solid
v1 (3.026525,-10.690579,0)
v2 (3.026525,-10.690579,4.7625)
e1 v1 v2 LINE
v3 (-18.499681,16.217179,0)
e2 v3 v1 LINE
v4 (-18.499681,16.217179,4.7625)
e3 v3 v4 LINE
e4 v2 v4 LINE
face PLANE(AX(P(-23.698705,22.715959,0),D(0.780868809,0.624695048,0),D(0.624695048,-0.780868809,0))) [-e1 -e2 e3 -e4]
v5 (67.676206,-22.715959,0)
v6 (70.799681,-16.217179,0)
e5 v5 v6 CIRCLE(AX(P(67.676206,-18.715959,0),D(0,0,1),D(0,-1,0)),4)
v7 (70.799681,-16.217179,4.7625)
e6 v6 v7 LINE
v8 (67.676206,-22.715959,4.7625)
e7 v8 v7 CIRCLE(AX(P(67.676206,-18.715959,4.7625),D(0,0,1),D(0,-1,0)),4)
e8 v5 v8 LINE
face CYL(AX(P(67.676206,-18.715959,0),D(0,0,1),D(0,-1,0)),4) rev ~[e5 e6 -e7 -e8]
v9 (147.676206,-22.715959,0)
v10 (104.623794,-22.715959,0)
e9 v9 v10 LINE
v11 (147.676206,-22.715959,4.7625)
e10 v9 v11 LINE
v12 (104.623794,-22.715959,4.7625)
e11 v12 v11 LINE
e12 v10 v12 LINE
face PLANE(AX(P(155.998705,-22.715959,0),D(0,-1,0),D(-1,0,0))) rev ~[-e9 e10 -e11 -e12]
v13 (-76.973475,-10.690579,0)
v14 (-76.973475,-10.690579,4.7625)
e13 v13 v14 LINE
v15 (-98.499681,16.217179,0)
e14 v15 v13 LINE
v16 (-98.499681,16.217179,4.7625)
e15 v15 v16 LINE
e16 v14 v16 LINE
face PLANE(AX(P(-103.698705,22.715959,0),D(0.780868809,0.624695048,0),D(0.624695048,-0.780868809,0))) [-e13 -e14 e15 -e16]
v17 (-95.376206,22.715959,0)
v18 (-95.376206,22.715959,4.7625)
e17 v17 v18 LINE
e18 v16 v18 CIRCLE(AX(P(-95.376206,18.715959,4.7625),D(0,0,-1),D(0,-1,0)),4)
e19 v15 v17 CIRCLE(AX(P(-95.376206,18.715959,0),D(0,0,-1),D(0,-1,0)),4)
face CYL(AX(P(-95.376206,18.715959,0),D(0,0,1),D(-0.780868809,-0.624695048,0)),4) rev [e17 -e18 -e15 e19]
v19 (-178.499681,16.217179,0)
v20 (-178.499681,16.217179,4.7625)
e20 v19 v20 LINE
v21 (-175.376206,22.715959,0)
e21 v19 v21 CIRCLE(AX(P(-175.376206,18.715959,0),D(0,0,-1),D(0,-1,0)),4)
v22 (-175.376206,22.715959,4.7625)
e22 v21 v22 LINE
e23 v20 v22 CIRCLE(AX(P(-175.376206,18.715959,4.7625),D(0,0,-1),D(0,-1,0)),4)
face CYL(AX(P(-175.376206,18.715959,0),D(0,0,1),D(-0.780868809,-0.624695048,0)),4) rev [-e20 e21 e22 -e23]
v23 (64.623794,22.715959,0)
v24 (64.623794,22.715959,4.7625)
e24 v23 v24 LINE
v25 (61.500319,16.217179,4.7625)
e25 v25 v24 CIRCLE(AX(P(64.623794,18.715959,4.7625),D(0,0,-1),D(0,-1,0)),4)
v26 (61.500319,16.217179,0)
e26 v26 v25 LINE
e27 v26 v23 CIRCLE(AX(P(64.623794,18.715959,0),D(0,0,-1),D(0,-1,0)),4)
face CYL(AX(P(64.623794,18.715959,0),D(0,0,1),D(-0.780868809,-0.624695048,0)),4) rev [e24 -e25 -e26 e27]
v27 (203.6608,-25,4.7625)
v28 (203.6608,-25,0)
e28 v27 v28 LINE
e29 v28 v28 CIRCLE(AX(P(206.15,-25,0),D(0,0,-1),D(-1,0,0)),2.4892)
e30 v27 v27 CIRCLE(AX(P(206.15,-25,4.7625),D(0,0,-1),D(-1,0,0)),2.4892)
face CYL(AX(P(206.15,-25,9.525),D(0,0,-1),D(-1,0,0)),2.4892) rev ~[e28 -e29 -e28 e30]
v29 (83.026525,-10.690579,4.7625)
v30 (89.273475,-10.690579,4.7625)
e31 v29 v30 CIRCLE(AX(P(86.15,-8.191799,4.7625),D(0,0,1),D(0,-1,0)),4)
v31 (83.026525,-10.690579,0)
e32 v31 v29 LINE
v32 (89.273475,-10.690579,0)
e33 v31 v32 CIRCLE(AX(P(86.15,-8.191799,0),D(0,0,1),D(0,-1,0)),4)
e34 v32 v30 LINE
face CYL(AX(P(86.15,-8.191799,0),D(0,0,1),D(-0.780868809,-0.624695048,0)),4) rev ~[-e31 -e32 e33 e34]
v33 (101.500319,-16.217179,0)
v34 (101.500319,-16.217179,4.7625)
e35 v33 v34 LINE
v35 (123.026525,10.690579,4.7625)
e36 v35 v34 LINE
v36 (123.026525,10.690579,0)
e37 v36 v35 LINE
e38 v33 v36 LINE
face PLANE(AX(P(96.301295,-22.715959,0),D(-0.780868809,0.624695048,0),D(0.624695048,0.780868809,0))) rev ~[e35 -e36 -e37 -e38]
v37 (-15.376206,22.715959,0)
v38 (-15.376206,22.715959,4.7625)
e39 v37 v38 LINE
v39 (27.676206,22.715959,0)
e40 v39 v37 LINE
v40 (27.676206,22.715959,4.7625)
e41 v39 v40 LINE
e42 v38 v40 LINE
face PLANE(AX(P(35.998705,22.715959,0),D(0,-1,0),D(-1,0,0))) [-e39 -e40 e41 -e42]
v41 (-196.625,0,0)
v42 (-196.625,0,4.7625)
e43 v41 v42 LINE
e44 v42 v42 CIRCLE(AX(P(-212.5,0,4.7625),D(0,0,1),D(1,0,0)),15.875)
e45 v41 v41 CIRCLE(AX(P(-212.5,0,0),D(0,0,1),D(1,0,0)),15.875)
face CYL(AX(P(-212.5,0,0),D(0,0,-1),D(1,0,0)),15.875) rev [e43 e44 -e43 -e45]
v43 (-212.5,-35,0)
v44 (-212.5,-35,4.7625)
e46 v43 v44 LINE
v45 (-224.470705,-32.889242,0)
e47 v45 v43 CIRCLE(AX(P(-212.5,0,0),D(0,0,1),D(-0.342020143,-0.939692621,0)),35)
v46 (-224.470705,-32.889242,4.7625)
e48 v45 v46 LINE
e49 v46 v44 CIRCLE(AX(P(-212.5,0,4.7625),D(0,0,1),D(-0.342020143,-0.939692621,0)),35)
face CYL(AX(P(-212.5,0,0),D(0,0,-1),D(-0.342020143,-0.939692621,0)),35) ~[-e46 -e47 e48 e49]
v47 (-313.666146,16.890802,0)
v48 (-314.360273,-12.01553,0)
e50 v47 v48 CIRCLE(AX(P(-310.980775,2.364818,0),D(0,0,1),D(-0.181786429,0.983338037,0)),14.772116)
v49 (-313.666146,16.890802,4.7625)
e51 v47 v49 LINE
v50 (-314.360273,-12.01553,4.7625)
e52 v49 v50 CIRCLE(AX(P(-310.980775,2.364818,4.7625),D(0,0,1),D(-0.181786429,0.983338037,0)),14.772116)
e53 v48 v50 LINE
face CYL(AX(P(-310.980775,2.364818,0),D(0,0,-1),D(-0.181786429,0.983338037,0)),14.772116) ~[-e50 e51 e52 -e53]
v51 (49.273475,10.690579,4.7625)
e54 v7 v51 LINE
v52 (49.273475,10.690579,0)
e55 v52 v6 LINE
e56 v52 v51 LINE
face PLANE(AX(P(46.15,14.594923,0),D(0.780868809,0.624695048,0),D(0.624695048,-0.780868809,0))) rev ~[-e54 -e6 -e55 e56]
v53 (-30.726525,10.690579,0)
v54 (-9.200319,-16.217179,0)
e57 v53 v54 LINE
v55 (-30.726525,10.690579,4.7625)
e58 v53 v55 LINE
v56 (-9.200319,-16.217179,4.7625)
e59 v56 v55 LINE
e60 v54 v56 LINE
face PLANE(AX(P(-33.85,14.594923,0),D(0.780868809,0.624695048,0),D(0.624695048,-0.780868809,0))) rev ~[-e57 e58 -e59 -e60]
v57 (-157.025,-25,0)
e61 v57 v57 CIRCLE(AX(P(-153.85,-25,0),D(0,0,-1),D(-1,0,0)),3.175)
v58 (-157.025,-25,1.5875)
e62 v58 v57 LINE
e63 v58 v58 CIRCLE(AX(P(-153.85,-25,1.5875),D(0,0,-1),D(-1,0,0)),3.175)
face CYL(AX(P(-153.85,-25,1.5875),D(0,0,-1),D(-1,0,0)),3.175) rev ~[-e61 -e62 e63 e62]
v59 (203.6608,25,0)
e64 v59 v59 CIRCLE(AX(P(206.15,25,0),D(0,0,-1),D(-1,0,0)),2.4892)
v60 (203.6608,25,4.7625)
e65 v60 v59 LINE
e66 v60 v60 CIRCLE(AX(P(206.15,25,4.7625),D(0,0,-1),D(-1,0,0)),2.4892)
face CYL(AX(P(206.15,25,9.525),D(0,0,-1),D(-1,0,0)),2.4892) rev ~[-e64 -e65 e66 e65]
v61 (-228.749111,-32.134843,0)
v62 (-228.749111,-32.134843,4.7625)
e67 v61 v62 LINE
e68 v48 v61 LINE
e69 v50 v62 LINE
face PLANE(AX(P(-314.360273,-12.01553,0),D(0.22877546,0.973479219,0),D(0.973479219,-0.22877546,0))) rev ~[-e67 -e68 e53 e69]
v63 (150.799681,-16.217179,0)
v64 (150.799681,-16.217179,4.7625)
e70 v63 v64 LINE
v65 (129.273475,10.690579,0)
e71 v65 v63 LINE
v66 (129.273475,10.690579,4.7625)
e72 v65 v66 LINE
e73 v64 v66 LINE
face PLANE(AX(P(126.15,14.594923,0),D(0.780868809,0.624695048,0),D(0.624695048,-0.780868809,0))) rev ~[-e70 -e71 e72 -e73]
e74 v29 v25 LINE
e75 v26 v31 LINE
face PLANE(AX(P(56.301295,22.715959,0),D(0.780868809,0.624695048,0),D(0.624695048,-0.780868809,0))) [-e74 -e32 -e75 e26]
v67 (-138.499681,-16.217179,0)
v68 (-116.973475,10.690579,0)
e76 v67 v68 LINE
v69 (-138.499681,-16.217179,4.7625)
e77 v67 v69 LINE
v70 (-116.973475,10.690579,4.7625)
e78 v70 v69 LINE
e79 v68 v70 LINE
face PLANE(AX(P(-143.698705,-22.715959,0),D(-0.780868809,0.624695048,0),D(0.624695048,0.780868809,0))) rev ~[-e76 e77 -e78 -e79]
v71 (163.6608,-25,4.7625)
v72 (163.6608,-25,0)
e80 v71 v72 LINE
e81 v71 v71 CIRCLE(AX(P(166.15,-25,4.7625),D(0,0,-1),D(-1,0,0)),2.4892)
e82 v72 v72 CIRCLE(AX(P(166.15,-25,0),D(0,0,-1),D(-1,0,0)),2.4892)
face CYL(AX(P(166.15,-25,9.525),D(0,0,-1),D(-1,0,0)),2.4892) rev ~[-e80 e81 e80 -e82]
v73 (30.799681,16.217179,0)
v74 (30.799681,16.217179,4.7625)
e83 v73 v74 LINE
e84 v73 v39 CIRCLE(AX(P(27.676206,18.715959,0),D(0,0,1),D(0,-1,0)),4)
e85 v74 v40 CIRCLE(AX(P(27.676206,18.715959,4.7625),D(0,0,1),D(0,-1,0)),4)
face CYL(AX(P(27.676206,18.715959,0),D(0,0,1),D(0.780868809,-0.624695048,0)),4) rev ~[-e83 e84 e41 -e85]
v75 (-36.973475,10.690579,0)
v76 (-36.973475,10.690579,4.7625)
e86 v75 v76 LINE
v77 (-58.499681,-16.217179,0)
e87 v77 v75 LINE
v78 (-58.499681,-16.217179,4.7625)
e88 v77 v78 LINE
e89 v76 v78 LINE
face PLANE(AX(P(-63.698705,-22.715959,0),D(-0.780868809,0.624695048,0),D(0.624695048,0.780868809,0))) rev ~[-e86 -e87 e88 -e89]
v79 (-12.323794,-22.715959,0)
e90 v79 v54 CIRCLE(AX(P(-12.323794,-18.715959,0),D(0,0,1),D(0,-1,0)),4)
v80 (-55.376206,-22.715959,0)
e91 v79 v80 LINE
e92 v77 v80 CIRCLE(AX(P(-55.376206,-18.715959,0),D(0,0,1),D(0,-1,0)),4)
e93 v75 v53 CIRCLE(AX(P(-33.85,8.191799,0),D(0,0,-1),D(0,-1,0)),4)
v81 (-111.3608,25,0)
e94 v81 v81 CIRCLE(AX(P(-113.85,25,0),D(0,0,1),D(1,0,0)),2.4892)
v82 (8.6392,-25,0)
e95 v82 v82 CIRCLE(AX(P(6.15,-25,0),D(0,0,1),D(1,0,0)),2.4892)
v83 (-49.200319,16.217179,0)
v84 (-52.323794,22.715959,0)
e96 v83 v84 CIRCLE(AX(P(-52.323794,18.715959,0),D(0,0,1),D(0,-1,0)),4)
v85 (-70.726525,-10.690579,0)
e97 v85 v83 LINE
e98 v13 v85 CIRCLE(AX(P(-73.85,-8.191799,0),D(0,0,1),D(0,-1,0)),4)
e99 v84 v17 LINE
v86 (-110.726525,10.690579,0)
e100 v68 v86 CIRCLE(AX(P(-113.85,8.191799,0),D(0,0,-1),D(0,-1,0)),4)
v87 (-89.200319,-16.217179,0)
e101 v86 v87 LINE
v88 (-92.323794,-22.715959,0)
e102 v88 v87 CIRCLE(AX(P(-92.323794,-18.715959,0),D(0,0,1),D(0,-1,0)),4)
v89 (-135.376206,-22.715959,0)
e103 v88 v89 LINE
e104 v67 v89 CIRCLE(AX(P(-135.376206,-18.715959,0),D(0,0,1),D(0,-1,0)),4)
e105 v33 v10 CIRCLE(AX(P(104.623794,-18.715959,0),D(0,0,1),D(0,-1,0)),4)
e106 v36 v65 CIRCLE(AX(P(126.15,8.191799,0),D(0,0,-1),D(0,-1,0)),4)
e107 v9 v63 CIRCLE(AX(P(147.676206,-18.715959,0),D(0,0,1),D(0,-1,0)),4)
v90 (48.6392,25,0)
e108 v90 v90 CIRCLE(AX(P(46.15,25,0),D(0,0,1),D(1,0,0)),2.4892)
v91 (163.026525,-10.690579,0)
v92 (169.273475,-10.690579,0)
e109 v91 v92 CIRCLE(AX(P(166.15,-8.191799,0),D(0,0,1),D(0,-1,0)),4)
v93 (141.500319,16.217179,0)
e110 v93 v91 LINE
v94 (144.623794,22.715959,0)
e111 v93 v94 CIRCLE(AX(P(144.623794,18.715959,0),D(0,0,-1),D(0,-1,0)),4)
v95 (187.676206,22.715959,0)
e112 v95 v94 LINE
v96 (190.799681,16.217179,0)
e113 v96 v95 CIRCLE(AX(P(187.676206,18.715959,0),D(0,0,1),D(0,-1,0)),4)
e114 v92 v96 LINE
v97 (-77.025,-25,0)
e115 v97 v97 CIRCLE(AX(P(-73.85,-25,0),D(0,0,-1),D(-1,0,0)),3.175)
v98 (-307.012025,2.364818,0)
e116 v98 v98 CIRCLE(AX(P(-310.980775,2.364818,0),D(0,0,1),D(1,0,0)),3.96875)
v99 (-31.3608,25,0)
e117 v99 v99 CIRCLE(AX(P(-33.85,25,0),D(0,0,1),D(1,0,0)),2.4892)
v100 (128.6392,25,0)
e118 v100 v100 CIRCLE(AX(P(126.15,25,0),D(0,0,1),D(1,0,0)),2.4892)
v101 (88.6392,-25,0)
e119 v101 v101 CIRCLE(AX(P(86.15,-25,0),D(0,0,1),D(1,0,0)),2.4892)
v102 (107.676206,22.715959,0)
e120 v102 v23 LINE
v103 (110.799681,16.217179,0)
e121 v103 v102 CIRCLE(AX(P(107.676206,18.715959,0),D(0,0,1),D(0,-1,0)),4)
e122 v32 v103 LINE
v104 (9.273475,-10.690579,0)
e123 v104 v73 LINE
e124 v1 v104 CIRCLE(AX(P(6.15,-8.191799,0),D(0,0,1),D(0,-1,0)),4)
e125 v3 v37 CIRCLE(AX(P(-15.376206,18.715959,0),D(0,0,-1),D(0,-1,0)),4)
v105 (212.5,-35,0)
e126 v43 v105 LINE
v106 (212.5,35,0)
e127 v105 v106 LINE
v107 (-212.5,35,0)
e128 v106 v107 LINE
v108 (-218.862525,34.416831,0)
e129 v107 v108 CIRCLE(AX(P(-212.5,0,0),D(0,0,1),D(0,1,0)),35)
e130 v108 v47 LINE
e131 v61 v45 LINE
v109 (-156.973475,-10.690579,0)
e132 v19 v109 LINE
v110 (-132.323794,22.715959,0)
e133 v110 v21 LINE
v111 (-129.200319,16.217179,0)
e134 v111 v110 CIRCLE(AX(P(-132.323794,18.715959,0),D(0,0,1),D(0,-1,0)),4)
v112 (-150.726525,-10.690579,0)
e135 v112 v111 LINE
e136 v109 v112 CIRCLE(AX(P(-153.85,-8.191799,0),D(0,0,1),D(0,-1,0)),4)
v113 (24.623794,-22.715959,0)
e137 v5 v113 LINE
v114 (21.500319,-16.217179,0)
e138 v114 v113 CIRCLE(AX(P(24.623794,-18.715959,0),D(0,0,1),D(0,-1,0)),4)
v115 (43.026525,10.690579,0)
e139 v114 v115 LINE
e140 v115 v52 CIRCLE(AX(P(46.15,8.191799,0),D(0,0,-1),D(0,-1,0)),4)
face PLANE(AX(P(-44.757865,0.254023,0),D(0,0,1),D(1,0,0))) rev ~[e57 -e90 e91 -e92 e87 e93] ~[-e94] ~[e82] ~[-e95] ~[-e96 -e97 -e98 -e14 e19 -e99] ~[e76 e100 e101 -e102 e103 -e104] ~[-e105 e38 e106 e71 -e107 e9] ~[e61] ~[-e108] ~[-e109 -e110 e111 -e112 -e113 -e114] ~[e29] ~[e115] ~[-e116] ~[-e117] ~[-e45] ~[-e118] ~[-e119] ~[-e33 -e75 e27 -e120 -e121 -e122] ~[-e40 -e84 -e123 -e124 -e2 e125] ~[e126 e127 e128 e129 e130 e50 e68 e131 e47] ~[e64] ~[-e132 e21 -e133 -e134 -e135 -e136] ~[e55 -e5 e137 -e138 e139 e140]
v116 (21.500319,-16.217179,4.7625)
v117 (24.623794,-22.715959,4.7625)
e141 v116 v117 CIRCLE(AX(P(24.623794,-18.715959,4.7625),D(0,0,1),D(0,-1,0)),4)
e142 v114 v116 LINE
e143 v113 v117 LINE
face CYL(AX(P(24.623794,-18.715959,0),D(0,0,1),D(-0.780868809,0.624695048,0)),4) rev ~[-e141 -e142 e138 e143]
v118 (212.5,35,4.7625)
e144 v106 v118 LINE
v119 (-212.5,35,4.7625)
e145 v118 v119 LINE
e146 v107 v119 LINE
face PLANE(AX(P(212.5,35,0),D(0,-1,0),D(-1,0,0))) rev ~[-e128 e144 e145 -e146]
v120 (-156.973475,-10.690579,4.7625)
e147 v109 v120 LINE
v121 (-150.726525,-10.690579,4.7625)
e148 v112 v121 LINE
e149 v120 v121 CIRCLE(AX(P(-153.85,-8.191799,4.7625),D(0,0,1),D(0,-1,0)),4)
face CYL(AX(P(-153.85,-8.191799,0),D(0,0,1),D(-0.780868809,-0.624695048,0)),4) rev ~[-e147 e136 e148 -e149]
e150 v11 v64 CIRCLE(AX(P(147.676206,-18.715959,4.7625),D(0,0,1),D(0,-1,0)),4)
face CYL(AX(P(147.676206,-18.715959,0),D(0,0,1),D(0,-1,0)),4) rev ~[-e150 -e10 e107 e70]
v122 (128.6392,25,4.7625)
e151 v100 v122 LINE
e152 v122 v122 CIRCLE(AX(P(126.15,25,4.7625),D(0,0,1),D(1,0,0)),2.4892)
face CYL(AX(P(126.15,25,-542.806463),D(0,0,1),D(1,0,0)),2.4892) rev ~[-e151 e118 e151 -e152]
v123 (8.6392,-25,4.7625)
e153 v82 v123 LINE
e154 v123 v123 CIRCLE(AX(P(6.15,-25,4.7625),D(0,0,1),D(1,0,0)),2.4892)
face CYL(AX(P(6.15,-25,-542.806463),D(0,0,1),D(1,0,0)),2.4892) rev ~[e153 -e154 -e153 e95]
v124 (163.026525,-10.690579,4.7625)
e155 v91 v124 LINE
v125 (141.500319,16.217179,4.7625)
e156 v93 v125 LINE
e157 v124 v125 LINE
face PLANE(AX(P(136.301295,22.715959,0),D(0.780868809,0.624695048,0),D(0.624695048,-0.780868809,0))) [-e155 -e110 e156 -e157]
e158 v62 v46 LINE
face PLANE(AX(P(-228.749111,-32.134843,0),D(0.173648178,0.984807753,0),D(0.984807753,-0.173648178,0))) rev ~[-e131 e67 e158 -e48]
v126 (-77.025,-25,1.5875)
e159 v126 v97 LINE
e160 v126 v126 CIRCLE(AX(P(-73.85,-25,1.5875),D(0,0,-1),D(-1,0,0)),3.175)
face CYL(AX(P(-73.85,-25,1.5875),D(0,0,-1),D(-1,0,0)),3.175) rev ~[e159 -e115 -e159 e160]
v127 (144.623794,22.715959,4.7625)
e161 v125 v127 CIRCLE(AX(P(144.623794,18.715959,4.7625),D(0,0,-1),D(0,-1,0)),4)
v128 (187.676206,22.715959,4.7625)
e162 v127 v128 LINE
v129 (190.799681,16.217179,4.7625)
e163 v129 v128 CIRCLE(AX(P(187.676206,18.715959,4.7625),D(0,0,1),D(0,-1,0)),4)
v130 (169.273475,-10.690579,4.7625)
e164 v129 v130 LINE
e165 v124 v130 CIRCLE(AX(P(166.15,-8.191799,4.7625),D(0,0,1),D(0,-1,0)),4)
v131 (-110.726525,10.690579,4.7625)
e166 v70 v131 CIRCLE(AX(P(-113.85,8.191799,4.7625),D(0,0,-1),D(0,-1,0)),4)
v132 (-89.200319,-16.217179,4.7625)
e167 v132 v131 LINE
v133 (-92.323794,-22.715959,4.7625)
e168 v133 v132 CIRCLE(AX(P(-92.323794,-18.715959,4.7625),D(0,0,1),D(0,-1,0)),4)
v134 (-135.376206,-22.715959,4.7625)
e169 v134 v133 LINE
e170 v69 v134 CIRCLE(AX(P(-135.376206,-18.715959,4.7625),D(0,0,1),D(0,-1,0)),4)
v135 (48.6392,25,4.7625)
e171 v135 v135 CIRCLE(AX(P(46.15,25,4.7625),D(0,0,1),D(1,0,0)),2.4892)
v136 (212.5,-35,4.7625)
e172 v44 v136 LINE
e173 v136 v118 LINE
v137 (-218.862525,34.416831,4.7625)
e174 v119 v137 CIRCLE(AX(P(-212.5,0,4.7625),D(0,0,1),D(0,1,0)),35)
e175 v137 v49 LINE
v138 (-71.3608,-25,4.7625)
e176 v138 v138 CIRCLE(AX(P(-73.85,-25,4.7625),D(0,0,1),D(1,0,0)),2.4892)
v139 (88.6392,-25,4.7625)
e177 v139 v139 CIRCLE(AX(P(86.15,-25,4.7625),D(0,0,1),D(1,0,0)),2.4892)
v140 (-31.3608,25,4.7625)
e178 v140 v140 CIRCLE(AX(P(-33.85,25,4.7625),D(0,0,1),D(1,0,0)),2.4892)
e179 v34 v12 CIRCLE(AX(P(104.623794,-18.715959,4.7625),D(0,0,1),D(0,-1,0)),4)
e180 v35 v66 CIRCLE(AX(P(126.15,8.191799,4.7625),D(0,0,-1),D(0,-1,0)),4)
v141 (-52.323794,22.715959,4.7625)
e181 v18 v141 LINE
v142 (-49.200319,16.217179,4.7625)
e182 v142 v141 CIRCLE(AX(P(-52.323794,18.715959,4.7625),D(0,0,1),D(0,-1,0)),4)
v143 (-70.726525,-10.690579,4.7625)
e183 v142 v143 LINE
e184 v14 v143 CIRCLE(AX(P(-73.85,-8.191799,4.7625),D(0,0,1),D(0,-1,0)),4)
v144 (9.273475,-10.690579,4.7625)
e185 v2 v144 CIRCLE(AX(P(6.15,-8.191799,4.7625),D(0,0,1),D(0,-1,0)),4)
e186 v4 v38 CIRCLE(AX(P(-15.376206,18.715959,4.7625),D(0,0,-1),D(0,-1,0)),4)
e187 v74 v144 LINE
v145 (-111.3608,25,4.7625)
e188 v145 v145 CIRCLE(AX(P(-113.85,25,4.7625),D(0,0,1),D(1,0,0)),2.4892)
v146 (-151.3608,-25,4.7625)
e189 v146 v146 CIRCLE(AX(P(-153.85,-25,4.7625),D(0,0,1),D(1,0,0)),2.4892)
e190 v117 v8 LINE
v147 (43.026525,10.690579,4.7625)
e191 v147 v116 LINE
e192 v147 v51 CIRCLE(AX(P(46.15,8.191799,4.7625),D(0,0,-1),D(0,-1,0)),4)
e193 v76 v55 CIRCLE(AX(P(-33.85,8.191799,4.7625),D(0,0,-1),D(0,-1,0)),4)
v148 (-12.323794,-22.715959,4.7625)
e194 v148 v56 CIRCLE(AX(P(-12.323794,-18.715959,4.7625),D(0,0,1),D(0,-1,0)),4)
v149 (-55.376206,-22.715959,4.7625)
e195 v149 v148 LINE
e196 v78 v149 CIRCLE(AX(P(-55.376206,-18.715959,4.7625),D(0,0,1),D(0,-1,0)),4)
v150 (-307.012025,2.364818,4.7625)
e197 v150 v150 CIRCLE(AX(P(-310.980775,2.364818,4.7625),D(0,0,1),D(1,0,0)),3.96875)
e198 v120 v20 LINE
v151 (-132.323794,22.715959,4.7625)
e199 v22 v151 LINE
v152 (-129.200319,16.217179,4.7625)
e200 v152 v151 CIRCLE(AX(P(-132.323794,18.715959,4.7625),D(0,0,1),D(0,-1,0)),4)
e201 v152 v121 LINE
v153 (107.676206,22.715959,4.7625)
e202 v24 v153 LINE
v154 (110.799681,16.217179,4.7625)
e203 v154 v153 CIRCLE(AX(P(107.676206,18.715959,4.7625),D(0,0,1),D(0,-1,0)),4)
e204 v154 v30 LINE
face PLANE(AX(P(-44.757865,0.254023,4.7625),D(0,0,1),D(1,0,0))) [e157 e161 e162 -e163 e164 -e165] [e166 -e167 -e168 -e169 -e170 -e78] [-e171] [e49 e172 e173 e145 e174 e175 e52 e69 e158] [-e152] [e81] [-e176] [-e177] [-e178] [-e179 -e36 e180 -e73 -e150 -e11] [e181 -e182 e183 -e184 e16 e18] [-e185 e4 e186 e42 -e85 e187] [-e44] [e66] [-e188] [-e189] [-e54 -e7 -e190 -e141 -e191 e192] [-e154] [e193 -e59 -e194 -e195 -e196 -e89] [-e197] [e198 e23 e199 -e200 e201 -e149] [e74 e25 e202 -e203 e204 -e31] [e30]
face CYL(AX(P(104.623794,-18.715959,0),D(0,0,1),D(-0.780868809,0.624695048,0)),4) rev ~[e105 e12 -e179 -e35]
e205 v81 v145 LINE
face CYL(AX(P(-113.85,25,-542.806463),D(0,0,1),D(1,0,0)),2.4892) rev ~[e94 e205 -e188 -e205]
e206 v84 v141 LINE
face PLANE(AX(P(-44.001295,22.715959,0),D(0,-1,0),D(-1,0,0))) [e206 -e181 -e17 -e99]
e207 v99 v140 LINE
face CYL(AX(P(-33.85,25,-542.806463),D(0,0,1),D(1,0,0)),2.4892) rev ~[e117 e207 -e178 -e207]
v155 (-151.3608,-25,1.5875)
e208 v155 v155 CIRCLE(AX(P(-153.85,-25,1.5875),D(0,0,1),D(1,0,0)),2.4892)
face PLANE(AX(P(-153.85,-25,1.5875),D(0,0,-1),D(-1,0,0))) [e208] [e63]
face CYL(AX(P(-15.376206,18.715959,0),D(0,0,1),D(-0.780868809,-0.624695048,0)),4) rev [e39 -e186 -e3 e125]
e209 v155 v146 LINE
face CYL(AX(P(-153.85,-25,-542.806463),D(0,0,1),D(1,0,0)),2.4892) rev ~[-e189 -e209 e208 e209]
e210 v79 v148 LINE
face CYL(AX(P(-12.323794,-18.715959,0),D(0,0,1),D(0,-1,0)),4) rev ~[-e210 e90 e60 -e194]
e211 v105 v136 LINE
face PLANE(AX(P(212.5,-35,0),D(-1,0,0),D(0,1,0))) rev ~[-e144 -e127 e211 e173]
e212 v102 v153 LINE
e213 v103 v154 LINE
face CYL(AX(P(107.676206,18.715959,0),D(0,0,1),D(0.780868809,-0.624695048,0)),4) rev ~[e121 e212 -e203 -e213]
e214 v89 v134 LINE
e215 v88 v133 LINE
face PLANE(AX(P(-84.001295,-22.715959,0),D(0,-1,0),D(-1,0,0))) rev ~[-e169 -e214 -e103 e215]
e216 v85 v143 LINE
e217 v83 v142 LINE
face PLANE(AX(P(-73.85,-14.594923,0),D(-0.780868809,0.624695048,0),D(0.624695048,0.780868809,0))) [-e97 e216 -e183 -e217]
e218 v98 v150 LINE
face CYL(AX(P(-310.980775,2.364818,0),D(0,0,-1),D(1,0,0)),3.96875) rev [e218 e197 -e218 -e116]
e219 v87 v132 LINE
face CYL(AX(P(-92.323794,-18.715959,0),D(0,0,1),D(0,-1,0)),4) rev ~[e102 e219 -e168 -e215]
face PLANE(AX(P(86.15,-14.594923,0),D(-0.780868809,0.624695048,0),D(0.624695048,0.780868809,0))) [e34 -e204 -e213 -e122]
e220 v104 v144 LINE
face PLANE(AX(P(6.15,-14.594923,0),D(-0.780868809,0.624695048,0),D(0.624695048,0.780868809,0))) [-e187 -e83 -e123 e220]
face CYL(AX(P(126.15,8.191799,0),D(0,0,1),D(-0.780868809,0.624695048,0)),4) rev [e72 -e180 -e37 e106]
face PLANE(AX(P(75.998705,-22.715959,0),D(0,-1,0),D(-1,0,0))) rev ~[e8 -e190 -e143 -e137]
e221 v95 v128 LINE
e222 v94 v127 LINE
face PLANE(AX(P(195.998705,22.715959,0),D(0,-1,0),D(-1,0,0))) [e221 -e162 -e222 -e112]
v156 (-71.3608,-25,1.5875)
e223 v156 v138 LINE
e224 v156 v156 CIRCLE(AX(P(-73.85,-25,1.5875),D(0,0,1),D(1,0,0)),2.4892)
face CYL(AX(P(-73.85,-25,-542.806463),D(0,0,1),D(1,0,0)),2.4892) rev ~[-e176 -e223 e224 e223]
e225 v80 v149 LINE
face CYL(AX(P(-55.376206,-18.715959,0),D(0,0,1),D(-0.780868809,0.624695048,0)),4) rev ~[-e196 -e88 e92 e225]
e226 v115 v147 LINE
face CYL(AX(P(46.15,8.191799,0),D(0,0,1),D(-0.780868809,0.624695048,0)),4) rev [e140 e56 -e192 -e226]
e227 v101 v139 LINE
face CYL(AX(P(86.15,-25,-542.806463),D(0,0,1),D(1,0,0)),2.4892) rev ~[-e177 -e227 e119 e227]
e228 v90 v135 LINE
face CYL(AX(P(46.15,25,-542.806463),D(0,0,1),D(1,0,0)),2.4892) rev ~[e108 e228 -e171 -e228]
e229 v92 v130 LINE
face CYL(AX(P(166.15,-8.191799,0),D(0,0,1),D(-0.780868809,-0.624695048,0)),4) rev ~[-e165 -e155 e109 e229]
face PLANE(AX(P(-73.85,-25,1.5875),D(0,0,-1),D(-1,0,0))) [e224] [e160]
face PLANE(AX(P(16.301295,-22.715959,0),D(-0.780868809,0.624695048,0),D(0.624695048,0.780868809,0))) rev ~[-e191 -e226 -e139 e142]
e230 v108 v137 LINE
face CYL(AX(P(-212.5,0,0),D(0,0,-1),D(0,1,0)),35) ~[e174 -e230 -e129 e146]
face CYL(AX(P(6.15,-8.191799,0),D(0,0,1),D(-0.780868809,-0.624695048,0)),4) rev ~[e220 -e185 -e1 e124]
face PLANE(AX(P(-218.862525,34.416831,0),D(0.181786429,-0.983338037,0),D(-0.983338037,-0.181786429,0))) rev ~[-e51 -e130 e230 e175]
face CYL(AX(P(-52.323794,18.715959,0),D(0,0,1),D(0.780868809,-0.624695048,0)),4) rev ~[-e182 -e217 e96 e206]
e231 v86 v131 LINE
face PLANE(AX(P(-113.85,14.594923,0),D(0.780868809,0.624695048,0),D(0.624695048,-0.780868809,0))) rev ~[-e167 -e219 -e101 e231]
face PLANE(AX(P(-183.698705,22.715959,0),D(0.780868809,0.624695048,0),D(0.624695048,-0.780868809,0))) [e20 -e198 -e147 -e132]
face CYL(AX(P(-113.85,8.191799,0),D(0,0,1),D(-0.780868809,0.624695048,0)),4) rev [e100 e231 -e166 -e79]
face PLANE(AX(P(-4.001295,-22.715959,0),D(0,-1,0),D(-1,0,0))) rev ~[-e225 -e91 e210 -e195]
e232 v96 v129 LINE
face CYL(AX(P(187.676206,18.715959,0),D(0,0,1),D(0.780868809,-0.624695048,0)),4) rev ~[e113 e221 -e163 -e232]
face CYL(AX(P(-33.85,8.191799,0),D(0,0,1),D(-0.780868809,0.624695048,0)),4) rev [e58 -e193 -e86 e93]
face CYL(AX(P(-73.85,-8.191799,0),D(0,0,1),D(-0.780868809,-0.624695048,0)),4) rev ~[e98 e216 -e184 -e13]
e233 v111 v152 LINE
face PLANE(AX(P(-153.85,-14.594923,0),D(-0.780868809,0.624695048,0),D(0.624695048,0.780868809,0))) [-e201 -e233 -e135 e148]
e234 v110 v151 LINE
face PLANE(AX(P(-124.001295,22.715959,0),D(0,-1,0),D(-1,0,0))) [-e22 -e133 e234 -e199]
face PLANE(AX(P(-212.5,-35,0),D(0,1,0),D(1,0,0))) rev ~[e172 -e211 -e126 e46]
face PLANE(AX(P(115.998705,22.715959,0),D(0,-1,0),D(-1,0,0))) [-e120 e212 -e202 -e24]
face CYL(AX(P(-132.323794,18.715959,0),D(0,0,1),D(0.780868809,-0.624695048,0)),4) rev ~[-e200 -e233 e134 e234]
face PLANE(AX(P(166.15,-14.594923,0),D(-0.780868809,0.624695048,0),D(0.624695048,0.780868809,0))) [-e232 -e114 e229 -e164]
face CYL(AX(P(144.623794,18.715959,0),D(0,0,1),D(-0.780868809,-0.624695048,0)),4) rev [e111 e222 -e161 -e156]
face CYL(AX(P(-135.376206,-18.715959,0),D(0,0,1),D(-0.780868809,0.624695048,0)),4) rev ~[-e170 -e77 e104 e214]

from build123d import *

# Parameters (mm, degrees)
SKETCH1_R                                       = 3.96875
SKETCH1_R_2                                     = 15.875
BOSS_EXTRUDE1_DEPTH                             = 4.7625
F_10_CLEARANCE_HOLE1_D                          = 4.9784
LPATTERN1_COUNT                                 = 4
LPATTERN1_PITCH                                 = 80
CUT_EXTRUDE1_DEPTH                              = 10
FILLET1_R                                       = 4
CUT_EXTRUDE2_DEPTH                              = 5.7625
FILLET2_R                                       = 4
LPATTERN2_COUNT                                 = 4
LPATTERN2_PITCH                                 = 80
FILLET1_OF_LPATTERN2_R                          = 4
LPATTERN3_COUNT                                 = 3
LPATTERN3_PITCH                                 = 80
FILLET2_OF_LPATTERN3_R                          = 4
LPATTERN4_COUNT                                 = 2
LPATTERN4_PITCH                                 = 80
FILLET2_OF_LPATTERN4_R                          = 4
LPATTERN5_COUNT                                 = 2
LPATTERN5_PITCH                                 = 80
FILLET1_OF_LPATTERN5_R                          = 4
F_10_CLEARANCE_HOLE2_D                          = 4.9784
F_10_CLEARANCE_HOLE2_DEPTH                      = 4.7625
CBORE_FOR_10_BUTTON_HEAD_CAP_SCREW1_D           = 4.9784
CBORE_FOR_10_BUTTON_HEAD_CAP_SCREW1_CBORE_D     = 6.35
CBORE_FOR_10_BUTTON_HEAD_CAP_SCREW1_CBORE_DEPTH = 1.5875


with BuildPart() as part:
    # Sketch1 → Boss-Extrude1 (new body)
    with BuildSketch(Plane.XY):
        with BuildLine():
            Line((212.5, 35), (-212.5, 35))
            ThreePointArc((-212.5, 35), (-215.694597401, 34.853902901), (-218.862525007, 34.416831283))
            Line((-218.862525007, 34.416831283), (-313.666145568, 16.890801601))
            ThreePointArc((-313.666145568, 16.890801601), (-325.748634462, 2.719438205), (-314.360273, -12.015530461))
            Line((-314.360273, -12.015530461), (-228.749110944, -32.134843328))
            Line((-228.749110944, -32.134843328), (-224.470705016, -32.889241728))
            ThreePointArc((-224.470705016, -32.889241728), (-218.577686218, -34.468271355), (-212.5, -35))
            Line((-212.5, -35), (212.5, -35))
            Line((212.5, -35), (212.5, 35))
        make_face()
        with Locations((-310.980775301, 2.364817767)):
            Circle(SKETCH1_R, mode=Mode.SUBTRACT)
        with Locations((-212.5, 0)):
            Circle(SKETCH1_R_2, mode=Mode.SUBTRACT)
    extrude(amount=BOSS_EXTRUDE1_DEPTH)

    # #10 Clearance Hole1 (through all)
    with Locations(Plane(origin=(0, 0, 0), x_dir=(-1, 0, 0), z_dir=(0, 0, -1))):
        with Locations((-126.15, 25), (-86.15, -25)):
            f_10_clearance_hole1 = Hole(F_10_CLEARANCE_HOLE1_D / 2)

    # LPattern1: #10 Clearance Hole1 ×4
    with Locations(*[(-i * LPATTERN1_PITCH, 0, 0) for i in range(1, LPATTERN1_COUNT)]):
        add(f_10_clearance_hole1, mode=Mode.SUBTRACT)

    # Sketch13 → Cut-Extrude1 (cut)
    with BuildSketch(Plane(origin=(0, 0, 0), x_dir=(-1, 0, 0), z_dir=(0, 0, -1))):
        Polygon((-56.301294523, 22.715958732), (-86.15, -14.594923114), (-115.998705477, 22.715958732), align=None)
    cut_extrude1 = extrude(amount=-CUT_EXTRUDE1_DEPTH, mode=Mode.SUBTRACT)

    # Fillet1
    fillet1_edges = [part.edges().sort_by_distance(p)[0] for p in [
        (56.301294523, 22.715958732, 2.38125),
        (86.15, -14.594923114, 2.38125),
        (115.998705477, 22.715958732, 2.38125),
    ]]
    fillet(fillet1_edges, radius=FILLET1_R)

    # Sketch14 → Cut-Extrude2 (cut, through all)
    with BuildSketch(Plane(origin=(0, 0, 0), x_dir=(-1, 0, 0), z_dir=(0, 0, -1))):
        Polygon((-46.15, 14.594923114), (-75.998705477, -22.715958732), (-16.301294523, -22.715958732), align=None)
    cut_extrude2 = extrude(amount=-CUT_EXTRUDE2_DEPTH, mode=Mode.SUBTRACT)

    # Fillet2
    fillet2_edges = [part.edges().sort_by_distance(p)[0] for p in [
        (46.15, 14.594923114, 2.38125),
        (16.301294523, -22.715958732, 2.38125),
        (75.998705477, -22.715958732, 2.38125),
    ]]
    fillet(fillet2_edges, radius=FILLET2_R)

    # LPattern2: Cut-Extrude1 ×4
    with Locations(*[(-i * LPATTERN2_PITCH, 0, 0) for i in range(1, LPATTERN2_COUNT)]):
        add(cut_extrude1, mode=Mode.SUBTRACT)

    # Fillet1 of LPattern2
    fillet1_of_lpattern2_edges = [part.edges().sort_by_distance(p)[0] for p in [
        (-23.698705477, 22.715958732, 2.38125),
        (6.15, -14.594923114, 2.38125),
        (35.998705477, 22.715958732, 2.38125),
        (-103.698705477, 22.715958732, 2.38125),
        (-73.85, -14.594923114, 2.38125),
        (-44.001294523, 22.715958732, 2.38125),
        (-183.698705477, 22.715958732, 2.38125),
        (-153.85, -14.594923114, 2.38125),
        (-124.001294523, 22.715958732, 2.38125),
    ]]
    fillet(fillet1_of_lpattern2_edges, radius=FILLET1_OF_LPATTERN2_R)

    # LPattern3: Cut-Extrude2 ×3
    with Locations(*[(-i * LPATTERN3_PITCH, 0, 0) for i in range(1, LPATTERN3_COUNT)]):
        add(cut_extrude2, mode=Mode.SUBTRACT)

    # Fillet2 of LPattern3
    fillet2_of_lpattern3_edges = [part.edges().sort_by_distance(p)[0] for p in [
        (-33.85, 14.594923114, 2.38125),
        (-63.698705477, -22.715958732, 2.38125),
        (-4.001294523, -22.715958732, 2.38125),
        (-113.85, 14.594923114, 2.38125),
        (-143.698705477, -22.715958732, 2.38125),
        (-84.001294523, -22.715958732, 2.38125),
    ]]
    fillet(fillet2_of_lpattern3_edges, radius=FILLET2_OF_LPATTERN3_R)

    # LPattern4: Cut-Extrude2 ×2
    with Locations(*[(i * LPATTERN4_PITCH, 0, 0) for i in range(1, LPATTERN4_COUNT)]):
        add(cut_extrude2, mode=Mode.SUBTRACT)

    # Fillet2 of LPattern4
    fillet2_of_lpattern4_edges = [part.edges().sort_by_distance(p)[0] for p in [
        (126.15, 14.594923114, 2.38125),
        (96.301294523, -22.715958732, 2.38125),
        (155.998705477, -22.715958732, 2.38125),
    ]]
    fillet(fillet2_of_lpattern4_edges, radius=FILLET2_OF_LPATTERN4_R)

    # LPattern5: Cut-Extrude1 ×2
    with Locations(*[(i * LPATTERN5_PITCH, 0, 0) for i in range(1, LPATTERN5_COUNT)]):
        add(cut_extrude1, mode=Mode.SUBTRACT)

    # Fillet1 of LPattern5
    fillet1_of_lpattern5_edges = [part.edges().sort_by_distance(p)[0] for p in [
        (136.301294523, 22.715958732, 2.38125),
        (166.15, -14.594923114, 2.38125),
        (195.998705477, 22.715958732, 2.38125),
    ]]
    fillet(fillet1_of_lpattern5_edges, radius=FILLET1_OF_LPATTERN5_R)

    # #10 Clearance Hole2
    with Locations(Plane.XY.offset(4.7625)):
        with Locations((206.15, 25), (206.15, -25), (166.15, -25)):
            Hole(F_10_CLEARANCE_HOLE2_D / 2, depth=F_10_CLEARANCE_HOLE2_DEPTH)

    # CBORE for #10 Button Head Cap Screw1 (through all)
    with Locations(Plane(origin=(0, 0, 0), x_dir=(-1, 0, 0), z_dir=(0, 0, -1))):
        with Locations((153.85, -25), (73.85, -25)):
            CounterBoreHole(CBORE_FOR_10_BUTTON_HEAD_CAP_SCREW1_D / 2, CBORE_FOR_10_BUTTON_HEAD_CAP_SCREW1_CBORE_D / 2, CBORE_FOR_10_BUTTON_HEAD_CAP_SCREW1_CBORE_DEPTH)


solid = part.part
